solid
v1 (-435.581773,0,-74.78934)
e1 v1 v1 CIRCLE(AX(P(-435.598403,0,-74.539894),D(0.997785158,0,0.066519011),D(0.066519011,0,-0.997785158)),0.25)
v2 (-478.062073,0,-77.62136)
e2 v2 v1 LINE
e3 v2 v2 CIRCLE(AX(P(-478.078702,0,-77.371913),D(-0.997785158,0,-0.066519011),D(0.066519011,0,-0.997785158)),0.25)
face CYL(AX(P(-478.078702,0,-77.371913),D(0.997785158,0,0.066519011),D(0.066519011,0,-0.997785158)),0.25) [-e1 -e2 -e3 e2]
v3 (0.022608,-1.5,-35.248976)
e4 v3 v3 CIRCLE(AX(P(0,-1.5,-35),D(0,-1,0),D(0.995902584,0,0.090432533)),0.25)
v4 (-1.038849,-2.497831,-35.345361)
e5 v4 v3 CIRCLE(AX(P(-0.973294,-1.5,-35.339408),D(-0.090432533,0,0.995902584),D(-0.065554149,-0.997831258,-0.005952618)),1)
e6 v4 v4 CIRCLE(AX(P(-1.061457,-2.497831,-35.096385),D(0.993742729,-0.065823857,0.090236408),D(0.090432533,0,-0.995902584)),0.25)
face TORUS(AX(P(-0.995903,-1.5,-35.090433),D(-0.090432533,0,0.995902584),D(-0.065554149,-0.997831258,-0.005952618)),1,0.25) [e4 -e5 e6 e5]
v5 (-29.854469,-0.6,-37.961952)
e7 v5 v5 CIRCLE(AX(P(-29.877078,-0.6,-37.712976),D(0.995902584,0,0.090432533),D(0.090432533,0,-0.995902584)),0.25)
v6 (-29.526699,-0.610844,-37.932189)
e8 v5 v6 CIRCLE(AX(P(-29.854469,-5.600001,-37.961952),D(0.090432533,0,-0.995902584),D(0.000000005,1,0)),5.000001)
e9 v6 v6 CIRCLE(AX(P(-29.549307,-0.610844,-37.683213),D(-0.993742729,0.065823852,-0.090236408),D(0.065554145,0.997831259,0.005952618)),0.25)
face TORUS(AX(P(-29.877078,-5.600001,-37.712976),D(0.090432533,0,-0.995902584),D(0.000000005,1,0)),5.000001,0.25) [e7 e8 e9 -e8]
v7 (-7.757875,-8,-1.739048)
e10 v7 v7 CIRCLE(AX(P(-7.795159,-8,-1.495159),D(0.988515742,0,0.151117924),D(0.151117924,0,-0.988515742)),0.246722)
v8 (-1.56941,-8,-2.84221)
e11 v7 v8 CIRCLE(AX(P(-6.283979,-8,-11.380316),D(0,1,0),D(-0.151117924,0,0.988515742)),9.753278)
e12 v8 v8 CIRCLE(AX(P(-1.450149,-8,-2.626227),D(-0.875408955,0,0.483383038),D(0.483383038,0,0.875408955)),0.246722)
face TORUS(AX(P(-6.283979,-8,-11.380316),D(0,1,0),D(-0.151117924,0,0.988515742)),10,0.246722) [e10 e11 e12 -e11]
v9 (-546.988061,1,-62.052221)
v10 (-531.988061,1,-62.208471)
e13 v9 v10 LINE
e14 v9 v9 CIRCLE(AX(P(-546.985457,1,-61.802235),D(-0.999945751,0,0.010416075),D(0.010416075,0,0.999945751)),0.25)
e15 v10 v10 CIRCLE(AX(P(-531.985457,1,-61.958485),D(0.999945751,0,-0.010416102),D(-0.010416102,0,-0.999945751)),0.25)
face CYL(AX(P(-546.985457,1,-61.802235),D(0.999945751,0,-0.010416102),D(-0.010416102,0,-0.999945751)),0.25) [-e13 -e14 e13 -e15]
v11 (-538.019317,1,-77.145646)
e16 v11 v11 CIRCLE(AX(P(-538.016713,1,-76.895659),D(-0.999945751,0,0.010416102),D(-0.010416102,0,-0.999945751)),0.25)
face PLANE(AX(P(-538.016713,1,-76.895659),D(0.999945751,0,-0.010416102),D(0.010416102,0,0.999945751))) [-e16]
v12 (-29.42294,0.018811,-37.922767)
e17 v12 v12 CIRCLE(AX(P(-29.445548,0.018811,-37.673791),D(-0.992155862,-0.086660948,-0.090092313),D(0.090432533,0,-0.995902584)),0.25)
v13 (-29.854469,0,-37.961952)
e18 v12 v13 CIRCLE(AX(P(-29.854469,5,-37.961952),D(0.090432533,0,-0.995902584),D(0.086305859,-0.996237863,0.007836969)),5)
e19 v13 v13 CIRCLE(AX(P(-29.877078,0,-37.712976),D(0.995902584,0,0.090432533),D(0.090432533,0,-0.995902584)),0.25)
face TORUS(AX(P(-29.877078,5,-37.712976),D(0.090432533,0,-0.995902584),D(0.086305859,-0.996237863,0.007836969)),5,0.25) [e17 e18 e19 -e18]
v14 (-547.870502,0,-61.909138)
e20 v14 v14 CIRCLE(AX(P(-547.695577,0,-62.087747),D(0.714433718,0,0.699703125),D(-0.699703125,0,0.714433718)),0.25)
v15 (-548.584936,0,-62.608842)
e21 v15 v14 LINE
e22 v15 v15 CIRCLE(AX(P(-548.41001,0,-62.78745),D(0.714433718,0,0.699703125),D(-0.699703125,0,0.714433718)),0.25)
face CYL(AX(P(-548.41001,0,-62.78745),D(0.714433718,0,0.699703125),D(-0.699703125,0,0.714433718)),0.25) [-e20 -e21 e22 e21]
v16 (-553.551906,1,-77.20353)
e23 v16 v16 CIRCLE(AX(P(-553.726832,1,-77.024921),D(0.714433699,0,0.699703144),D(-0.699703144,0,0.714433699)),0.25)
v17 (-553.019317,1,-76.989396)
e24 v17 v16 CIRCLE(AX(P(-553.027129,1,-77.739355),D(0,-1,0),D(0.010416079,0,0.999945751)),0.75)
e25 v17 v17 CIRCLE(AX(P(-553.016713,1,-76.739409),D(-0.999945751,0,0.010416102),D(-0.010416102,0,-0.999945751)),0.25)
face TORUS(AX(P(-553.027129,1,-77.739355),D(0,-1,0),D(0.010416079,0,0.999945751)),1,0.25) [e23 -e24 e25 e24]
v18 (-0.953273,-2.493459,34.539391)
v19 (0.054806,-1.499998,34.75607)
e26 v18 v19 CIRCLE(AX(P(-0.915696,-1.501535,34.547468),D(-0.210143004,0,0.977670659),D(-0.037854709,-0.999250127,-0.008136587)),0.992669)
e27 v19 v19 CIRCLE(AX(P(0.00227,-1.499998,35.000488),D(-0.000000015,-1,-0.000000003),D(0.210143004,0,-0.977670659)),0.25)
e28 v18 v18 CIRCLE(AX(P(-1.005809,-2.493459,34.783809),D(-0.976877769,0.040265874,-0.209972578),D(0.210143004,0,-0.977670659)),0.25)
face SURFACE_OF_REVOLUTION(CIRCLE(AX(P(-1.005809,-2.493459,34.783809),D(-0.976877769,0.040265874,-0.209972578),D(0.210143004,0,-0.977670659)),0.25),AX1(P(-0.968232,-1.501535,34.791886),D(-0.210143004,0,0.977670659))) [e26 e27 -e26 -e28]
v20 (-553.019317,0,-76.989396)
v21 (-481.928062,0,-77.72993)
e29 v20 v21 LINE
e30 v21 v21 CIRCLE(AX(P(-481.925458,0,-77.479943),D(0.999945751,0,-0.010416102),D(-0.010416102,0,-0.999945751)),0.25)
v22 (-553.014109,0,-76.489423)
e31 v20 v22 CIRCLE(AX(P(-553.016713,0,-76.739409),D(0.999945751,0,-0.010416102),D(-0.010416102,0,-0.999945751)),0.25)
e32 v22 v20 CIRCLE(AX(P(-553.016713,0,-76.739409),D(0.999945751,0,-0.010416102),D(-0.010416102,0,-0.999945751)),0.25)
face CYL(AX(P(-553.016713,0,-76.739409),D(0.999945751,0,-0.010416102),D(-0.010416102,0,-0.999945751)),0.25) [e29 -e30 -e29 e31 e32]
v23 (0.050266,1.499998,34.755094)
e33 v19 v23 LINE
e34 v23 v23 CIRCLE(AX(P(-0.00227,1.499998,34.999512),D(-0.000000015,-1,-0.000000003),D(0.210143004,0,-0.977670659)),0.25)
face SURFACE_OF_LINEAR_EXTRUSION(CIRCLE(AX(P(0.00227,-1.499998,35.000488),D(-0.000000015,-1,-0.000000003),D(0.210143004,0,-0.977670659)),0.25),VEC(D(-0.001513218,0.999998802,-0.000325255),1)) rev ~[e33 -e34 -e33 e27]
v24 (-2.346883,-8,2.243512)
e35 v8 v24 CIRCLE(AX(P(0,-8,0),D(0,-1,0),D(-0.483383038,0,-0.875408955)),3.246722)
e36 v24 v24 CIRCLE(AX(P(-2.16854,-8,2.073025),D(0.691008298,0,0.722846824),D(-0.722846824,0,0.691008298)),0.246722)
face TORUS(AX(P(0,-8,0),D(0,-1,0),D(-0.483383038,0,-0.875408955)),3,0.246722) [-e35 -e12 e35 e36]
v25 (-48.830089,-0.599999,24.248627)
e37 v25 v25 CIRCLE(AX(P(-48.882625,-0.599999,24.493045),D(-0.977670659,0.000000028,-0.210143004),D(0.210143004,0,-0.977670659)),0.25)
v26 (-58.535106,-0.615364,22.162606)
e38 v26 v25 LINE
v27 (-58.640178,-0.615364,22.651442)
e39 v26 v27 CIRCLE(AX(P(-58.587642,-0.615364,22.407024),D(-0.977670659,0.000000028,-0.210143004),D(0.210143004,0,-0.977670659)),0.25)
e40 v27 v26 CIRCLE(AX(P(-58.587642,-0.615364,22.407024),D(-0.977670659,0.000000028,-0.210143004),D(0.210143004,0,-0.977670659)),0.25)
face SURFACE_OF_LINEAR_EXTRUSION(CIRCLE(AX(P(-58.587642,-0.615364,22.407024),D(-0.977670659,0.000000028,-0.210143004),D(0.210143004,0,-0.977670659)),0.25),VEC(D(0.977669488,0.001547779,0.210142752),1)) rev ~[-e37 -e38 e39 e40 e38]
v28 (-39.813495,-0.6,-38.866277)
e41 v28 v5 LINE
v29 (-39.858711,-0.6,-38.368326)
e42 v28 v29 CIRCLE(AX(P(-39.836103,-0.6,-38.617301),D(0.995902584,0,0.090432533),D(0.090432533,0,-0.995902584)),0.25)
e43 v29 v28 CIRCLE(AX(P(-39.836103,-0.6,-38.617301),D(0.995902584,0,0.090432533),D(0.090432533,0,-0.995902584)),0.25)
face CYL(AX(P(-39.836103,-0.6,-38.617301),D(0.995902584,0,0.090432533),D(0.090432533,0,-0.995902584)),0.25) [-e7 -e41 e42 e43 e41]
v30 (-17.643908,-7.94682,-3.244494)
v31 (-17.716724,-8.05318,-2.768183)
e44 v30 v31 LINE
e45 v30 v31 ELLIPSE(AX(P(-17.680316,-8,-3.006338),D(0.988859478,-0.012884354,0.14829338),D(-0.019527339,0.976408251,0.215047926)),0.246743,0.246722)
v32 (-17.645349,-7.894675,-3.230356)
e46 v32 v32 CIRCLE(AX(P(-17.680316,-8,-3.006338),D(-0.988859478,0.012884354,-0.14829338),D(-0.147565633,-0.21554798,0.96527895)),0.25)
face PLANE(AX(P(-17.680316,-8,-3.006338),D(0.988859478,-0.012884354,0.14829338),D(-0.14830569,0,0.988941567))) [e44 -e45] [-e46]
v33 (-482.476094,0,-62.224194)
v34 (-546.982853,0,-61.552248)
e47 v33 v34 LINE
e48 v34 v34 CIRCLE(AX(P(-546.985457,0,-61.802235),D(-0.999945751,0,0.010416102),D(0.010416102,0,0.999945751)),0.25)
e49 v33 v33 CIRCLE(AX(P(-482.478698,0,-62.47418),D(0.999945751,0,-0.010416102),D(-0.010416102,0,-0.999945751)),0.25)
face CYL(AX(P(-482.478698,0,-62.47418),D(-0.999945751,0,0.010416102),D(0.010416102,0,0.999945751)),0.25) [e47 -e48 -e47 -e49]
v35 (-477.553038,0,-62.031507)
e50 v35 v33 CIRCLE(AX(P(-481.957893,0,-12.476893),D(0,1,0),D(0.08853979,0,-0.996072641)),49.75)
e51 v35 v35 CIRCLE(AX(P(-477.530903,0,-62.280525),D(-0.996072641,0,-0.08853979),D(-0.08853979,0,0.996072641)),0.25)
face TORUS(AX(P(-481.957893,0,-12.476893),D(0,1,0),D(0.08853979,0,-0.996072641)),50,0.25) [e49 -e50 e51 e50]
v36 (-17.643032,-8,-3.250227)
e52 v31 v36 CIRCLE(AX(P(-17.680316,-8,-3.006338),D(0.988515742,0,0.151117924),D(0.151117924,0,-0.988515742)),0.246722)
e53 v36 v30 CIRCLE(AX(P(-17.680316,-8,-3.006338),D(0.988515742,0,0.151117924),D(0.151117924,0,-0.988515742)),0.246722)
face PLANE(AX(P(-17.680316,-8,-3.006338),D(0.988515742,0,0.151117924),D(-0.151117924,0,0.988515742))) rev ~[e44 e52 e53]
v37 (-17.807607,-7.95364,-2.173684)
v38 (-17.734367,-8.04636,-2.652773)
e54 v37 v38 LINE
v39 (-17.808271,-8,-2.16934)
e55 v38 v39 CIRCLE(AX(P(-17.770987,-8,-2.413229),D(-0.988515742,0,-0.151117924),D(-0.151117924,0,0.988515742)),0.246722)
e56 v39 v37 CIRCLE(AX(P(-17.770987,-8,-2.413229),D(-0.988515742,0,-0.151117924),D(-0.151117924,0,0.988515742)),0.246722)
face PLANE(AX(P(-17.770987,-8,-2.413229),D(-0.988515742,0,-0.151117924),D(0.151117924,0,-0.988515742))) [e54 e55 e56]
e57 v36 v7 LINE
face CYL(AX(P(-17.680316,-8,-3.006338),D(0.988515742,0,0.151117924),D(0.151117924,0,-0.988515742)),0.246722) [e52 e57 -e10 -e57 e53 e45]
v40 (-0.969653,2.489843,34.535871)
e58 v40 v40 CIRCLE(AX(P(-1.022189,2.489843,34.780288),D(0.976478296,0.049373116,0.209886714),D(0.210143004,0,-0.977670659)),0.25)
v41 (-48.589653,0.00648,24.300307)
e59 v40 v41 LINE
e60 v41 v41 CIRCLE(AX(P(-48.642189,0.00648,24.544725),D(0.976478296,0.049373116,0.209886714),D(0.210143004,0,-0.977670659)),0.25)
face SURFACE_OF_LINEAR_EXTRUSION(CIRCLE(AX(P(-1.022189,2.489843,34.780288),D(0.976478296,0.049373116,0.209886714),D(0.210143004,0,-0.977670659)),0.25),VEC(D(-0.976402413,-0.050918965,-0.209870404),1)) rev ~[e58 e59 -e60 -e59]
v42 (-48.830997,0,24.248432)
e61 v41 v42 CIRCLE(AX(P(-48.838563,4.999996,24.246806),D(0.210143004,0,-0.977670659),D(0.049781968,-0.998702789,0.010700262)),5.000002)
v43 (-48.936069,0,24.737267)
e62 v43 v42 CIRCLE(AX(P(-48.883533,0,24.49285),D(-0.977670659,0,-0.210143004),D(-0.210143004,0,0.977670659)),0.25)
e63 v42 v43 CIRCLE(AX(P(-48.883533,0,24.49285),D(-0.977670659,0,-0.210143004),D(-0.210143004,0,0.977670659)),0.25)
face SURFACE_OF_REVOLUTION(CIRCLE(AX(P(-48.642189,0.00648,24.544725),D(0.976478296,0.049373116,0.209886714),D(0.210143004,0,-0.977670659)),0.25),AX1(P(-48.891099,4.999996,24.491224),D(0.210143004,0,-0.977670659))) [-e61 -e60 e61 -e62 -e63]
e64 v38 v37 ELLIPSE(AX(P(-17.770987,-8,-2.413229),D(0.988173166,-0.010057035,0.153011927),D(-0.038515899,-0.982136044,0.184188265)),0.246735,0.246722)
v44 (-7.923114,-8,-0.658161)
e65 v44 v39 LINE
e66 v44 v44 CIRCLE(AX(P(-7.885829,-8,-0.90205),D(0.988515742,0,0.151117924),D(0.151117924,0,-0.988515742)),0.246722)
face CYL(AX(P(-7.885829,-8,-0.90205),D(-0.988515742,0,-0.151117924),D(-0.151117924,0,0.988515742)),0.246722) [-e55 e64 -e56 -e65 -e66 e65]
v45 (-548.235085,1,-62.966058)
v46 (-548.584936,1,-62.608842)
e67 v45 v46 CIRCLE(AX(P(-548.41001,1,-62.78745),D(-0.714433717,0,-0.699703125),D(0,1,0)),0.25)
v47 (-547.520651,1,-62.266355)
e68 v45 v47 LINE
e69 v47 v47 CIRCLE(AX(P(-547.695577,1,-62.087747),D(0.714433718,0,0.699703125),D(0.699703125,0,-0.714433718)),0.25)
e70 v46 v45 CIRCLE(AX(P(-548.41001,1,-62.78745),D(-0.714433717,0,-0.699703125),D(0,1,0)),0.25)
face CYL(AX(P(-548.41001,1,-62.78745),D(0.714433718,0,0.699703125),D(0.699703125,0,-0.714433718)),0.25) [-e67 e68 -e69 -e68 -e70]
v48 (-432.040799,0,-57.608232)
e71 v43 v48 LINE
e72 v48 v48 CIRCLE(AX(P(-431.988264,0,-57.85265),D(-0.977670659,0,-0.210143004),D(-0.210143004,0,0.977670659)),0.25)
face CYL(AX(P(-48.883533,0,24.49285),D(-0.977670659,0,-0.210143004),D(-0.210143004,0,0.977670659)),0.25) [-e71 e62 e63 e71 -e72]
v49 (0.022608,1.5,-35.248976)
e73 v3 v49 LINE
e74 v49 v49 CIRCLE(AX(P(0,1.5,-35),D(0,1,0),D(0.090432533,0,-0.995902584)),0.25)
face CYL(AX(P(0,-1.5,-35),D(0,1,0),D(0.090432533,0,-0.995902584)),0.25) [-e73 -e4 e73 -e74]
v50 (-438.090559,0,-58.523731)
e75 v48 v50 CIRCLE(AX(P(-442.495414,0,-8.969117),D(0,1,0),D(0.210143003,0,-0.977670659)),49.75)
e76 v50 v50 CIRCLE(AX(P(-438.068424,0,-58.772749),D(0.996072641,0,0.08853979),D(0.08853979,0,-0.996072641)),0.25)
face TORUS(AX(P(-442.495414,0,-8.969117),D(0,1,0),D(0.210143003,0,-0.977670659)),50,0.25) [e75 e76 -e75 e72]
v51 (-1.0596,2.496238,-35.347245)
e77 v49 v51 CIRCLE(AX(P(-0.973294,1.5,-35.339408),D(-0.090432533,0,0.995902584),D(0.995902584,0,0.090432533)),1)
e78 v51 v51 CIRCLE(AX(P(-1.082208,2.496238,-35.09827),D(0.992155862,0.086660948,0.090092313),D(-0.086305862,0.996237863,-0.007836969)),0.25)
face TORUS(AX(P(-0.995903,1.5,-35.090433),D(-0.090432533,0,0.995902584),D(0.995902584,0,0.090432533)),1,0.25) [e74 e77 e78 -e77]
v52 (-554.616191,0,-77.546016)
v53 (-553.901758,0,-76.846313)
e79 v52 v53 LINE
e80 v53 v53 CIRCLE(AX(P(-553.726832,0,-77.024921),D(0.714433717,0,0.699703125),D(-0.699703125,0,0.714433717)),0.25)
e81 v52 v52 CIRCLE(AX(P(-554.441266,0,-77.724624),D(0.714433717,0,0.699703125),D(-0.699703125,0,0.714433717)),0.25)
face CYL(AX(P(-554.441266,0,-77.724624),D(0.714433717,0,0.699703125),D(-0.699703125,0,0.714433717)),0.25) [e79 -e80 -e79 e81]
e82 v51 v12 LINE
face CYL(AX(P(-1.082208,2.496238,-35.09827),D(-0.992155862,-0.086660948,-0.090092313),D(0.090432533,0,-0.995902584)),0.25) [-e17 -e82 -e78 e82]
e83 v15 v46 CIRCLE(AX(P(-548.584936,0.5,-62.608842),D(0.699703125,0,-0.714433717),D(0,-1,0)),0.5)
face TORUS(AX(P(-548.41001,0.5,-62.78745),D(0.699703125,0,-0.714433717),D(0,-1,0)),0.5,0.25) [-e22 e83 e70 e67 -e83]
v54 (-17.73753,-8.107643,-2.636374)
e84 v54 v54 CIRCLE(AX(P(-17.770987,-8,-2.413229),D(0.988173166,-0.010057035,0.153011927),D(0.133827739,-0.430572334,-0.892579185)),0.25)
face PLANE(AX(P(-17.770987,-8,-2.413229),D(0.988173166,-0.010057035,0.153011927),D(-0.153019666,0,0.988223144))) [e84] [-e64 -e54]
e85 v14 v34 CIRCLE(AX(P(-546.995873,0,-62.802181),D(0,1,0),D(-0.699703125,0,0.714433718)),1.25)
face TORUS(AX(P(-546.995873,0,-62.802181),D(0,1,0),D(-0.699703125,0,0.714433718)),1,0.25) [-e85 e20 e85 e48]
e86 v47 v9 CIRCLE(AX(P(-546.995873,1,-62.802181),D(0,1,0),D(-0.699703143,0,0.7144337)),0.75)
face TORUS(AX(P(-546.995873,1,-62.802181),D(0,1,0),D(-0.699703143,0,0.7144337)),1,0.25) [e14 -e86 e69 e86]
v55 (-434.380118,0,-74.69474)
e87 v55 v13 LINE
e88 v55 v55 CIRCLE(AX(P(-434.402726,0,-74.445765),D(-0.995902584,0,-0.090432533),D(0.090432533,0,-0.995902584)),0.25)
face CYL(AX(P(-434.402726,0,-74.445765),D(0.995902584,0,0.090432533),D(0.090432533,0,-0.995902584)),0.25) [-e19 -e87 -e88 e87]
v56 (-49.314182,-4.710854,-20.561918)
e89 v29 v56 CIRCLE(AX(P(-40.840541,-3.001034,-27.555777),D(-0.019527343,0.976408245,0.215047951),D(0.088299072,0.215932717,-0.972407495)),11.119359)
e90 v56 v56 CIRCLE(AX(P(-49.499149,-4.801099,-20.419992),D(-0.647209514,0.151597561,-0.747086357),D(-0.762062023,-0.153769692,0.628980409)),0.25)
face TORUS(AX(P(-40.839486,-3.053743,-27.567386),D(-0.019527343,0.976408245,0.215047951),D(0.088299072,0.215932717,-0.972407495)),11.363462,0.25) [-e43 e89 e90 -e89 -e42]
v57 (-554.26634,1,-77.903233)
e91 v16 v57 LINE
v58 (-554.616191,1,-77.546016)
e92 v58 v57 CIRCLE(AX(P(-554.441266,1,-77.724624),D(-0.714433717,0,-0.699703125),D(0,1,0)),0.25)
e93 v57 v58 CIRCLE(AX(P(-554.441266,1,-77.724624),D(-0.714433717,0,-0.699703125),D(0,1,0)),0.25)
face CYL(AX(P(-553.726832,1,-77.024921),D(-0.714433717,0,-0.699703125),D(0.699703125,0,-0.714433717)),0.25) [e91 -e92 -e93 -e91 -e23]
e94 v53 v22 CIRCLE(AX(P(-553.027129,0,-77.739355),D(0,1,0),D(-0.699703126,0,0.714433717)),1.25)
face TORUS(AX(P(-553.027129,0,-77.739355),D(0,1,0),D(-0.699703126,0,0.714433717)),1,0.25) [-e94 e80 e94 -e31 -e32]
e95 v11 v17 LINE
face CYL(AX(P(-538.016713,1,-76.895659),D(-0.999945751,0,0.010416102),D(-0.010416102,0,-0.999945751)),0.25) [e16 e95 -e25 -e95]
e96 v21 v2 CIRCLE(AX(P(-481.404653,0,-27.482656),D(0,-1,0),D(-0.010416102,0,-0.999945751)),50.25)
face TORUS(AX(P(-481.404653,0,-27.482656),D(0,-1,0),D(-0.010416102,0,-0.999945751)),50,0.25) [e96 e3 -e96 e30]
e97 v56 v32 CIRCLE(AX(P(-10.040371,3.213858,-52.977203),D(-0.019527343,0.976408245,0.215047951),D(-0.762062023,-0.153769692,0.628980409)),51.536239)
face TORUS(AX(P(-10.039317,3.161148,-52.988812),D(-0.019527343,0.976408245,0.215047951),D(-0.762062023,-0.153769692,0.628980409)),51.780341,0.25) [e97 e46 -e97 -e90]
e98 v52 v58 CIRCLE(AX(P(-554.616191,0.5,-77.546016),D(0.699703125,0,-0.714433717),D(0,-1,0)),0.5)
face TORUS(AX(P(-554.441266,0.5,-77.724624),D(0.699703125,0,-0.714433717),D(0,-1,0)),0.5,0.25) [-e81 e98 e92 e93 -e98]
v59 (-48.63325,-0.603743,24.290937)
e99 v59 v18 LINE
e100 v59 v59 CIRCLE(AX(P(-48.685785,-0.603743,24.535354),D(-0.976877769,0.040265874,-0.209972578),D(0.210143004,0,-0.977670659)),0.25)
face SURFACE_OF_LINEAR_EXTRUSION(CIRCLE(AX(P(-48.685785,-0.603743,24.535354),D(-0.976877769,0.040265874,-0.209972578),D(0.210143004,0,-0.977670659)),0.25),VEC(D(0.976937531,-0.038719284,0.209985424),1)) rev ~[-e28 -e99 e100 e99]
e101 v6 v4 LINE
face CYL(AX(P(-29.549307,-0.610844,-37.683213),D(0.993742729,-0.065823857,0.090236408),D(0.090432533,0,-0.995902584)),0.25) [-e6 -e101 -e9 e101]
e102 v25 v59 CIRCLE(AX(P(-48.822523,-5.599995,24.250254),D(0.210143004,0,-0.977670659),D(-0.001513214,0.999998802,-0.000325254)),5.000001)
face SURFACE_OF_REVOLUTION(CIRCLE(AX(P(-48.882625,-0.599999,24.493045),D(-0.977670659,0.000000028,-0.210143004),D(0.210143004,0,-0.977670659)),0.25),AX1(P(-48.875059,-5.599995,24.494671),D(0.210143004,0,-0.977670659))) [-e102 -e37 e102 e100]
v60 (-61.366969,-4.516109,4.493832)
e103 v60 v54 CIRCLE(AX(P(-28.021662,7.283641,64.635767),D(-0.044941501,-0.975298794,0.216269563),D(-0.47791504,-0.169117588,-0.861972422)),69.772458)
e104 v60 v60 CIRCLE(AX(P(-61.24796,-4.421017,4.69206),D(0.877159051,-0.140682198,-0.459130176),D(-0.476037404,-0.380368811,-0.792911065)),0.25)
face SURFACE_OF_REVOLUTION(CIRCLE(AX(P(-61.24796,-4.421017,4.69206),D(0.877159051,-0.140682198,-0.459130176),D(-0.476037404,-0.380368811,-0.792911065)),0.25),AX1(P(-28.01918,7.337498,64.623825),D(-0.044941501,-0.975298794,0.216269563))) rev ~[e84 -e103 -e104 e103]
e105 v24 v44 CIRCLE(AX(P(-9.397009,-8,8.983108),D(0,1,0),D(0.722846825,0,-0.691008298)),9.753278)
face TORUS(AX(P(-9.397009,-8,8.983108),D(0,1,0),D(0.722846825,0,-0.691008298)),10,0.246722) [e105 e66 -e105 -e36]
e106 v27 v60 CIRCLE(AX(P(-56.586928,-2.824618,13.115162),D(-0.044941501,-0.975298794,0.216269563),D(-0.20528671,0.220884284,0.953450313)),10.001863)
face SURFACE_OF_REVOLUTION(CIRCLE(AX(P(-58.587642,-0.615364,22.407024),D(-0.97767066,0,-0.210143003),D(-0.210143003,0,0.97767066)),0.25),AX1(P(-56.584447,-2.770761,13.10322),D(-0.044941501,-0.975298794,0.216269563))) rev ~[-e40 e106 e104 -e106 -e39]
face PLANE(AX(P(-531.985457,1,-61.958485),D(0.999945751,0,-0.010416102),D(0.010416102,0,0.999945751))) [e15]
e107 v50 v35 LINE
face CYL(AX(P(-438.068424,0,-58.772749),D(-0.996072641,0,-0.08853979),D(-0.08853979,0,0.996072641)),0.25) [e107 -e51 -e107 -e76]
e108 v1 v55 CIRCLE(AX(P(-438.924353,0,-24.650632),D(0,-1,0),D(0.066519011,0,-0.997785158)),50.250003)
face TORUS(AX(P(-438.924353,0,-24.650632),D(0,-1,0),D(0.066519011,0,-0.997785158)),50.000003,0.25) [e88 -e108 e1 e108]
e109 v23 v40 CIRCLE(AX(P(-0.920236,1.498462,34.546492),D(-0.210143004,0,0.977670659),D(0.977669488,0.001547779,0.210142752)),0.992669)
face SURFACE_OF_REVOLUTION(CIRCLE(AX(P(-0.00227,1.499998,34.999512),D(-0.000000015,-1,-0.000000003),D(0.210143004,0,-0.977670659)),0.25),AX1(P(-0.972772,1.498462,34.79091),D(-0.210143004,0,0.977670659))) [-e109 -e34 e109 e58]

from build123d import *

# Parameters (mm, degrees)
SKETCH10_R = 0.25
SKETCH13_R = 0.25
SKETCH14_R = 0.25
SKETCH11_R = 0.25
SKETCH15_R = 0.25
SKETCH16_R = 0.25
SKETCH12_R = 0.246722014
SKETCH25_R = 0.25
SKETCH26_R = 0.25
SKETCH27_R = 0.25
SKETCH28_R = 0.25
SKETCH29_R = 0.25
SKETCH30_R = 0.25


with BuildPart() as part:
    # Sweep1: sweep along a path in Sketch2
    with BuildLine(Plane(origin=(0, 0, 0), x_dir=(1, 0, 0), z_dir=(0, 1, 0))) as sweep1_path:
        Line((-553.016712609, 76.739409244), (-481.925457981, 77.479943146))
        ThreePointArc((-481.925457981, 77.479943146), (-480.001040475, 77.462950438), (-478.078702376, 77.371913492))
        Line((-478.078702376, 77.371913492), (-435.598402593, 74.539893506))
        ThreePointArc((-435.598402593, 74.539893506), (-435.00028227, 74.496414451), (-434.402726445, 74.445764815))
        Line((-434.402726445, 74.445764815), (-29.877077521, 37.712976005))
    # Sketch10 → Sweep1 (sweep)
    with BuildSketch(Plane(origin=(-553.016712609, 0, -76.739409244), x_dir=(-0.010416102, 0, -0.999945751), z_dir=(0.999945751, 0, -0.010416102))):
        Circle(SKETCH10_R)
    sweep(path=sweep1_path.line)

    # Sweep2: sweep along a path in Sketch5
    with BuildLine(Plane(origin=(3.152169783, 0, -34.713768491), x_dir=(-0.995902584, 0, -0.090432533), z_dir=(0.090432533, 0, -0.995902584))) as sweep2_path:
        Line((43.165138672, -0.6), (33.165138672, -0.6))
        ThreePointArc((33.165138672, -0.6), (33.000489736, -0.602711663), (32.836019389, -0.610843709))
        Line((32.836019389, -0.610843709), (4.230962529, -2.497831258))
        ThreePointArc((4.230962529, -2.497831258), (3.481700254, -2.23000817), (3.165138672, -1.5))
        Line((3.165138672, -1.5), (3.165138672, 1.5))
        ThreePointArc((3.165138672, 1.5), (3.489365392, 2.23710954), (4.25179962, 2.496237863))
        Line((4.25179962, 2.496237863), (32.731833935, 0.018810684))
        ThreePointArc((32.731833935, 0.018810684), (32.948282247, 0.004704885), (33.165138672, 0))
    # Sketch13 → Sweep2 (sweep)
    with BuildSketch(Plane(origin=(-33.029247304, 0, -2.999207514), x_dir=(0.090432533, 0, -0.995902584), z_dir=(0.995902584, 0, 0.090432533))):
        with Locations((34.856590441, 0)):
            Circle(SKETCH13_R)
    sweep(path=sweep2_path.line)

    # Sweep3: sweep along a path in Sketch8
    with BuildLine(Plane(origin=(0.158416022, -7.921134589, -1.744581505), x_dir=(0.999809183, 0.018956258, 0.00471788), z_dir=(0.019527343, -0.976408245, -0.215047951))) as sweep3_path:
        ThreePointArc((-40.022067478, -37.563175786), (-51.114443307, -31.46117381), (-49.6770536, -18.883052309))
        ThreePointArc((-49.6770536, -18.883052309), (-35.365036785, -7.153824973), (-17.842776045, -1.205801955))
    # Sketch14 → Sweep3 (sweep)
    with BuildSketch(Plane(origin=(-42.988273144, 0, -3.903532849), x_dir=(-0.090432533, 0, 0.995902584), z_dir=(-0.995902584, 0, -0.090432533))):
        with Locations((-34.856590441, -0.6)):
            Circle(SKETCH14_R)
    sweep(path=sweep3_path.line)



with BuildPart() as body_2:
    # Sweep4: sweep along a path in Sketch3
    with BuildLine(Plane(origin=(0, 0, 0), x_dir=(1, 0, 0), z_dir=(0, 1, 0))) as sweep4_path:
        Line((-48.883532963, -24.492849811), (-431.988263522, 57.852649746))
        ThreePointArc((-431.988263522, 57.852649746), (-435.014185353, 58.406260938), (-438.068424196, 58.772748817))
        Line((-438.068424196, 58.772748817), (-477.530903099, 62.28052472))
        ThreePointArc((-477.530903099, 62.28052472), (-480.002401671, 62.438638603), (-482.478697692, 62.474180232))
        Line((-482.478697692, 62.474180232), (-546.985457353, 61.802234819))
    # Sketch11 → Sweep4 (sweep)
    with BuildSketch(Plane(origin=(-546.985457353, 0, -61.802234819), x_dir=(0.010416102, 0, 0.999945751), z_dir=(-0.999945751, 0, 0.010416102))):
        Circle(SKETCH11_R)
    sweep(path=sweep4_path.line)

    # Sweep5: sweep along a path in Sketch6
    with BuildLine(Plane(origin=(-7.190772716, 0, 33.454397129), x_dir=(-0.977669488, -0.001547779, -0.210142752), z_dir=(0.210143004, 0, -0.977670659))) as sweep5_path:
        Line((52.571628789, -0.533994989), (42.644943787, -0.533994989))
        ThreePointArc((42.644943787, -0.533994989), (42.54425873, -0.53500884), (42.443614505, -0.538049981))
        Line((42.443614505, -0.538049981), (-6.322357175, -2.503247367))
        ThreePointArc((-6.322357175, -2.503247367), (-7.049973497, -2.227298843), (-7.354996322, -1.51138392))
        Line((-7.354996322, -1.51138392), (-7.354996322, 1.48861608))
        ThreePointArc((-7.354996322, 1.48861608), (-7.046703056, 2.207658005), (-6.313316668, 2.480073925))
        Line((-6.313316668, 2.480073925), (42.398078122, 0.072102995))
        ThreePointArc((42.398078122, 0.072102995), (42.521473303, 0.06752974), (42.644943787, 0.066005011))
    # Sketch15 → Sweep5 (sweep)
    with BuildSketch(Plane(origin=(-41.692760247, 0, -8.961547317), x_dir=(0.210143004, 0, -0.977670659), z_dir=(0.977670659, 0, 0.210143004))):
        with Locations((-34.218473074, 0)):
            Circle(SKETCH15_R)
    sweep(path=sweep5_path.line)

    # Sweep6: sweep along a path in Sketch9
    with BuildLine(Plane(origin=(-0.363088556, -7.879572815, 1.747271479), x_dir=(-0.998974794, 0.042695608, -0.015048125), z_dir=(0.044941501, 0.975298794, -0.216269563))) as sweep6_path:
        ThreePointArc((58.164120643, 22.059642217), (65.857403576, 13.97059894), (60.925803163, 3.955683025))
        ThreePointArc((60.925803163, 3.955683025), (39.83508155, -3.565434669), (17.447517685, -3.992908311))
    # Sketch16 → Sweep6 (sweep)
    with BuildSketch(Plane(origin=(-51.39686936, 0, -11.047373069), x_dir=(-0.210143004, 0, 0.977670659), z_dir=(-0.977670659, 0, -0.210143004))):
        with Locations((34.218473074, -0.615363592)):
            Circle(SKETCH16_R)
    sweep(path=sweep6_path.line)


with BuildPart() as part_1:
    add(part.part)

    add(body_2.part)  # Sweep7 merges body 2
    # Sweep7: sweep along a path in Sketch7
    with BuildLine(Plane(origin=(0, -8, 0), x_dir=(-1, 0, 0), z_dir=(0, 1, 0))) as sweep7_path:
        Line((17.680316152, -3.006338232), (7.795158727, -1.495158994))
        ThreePointArc((7.795158727, -1.495158994), (4.529034681, -1.53551227), (1.450149113, -2.626226866))
        ThreePointArc((1.450149113, -2.626226866), (-2.965547227, 0.453353772), (2.168540474, 2.073024895))
        ThreePointArc((2.168540474, 2.073024895), (4.78093609, 0.112263865), (7.885829482, -0.902049548))
        Line((7.885829482, -0.902049548), (17.770986906, -2.413228787))
    # Sketch12 → Sweep7 (sweep)
    with BuildSketch(Plane(origin=(-17.770986906, -8, -2.413228787), x_dir=(-0.151117924, 0, 0.988515742), z_dir=(-0.988515742, 0, -0.151117924))):
        Circle(SKETCH12_R)
    sweep(path=sweep7_path.line)

    # Sweep8: sweep along a path in Sketch17
    with BuildLine(Plane(origin=(0, 0, 0), x_dir=(1, 0, 0), z_dir=(0, 1, 0))) as sweep8_path:
        Line((-554.441265553, 77.724624402), (-553.726831836, 77.024921277))
        ThreePointArc((-553.726831836, 77.024921277), (-553.40016816, 76.811539512), (-553.016712609, 76.739409244))
    # Sketch25 → Sweep8 (sweep)
    with BuildSketch(Plane(origin=(-552.157430847, 0, 5.751639905), x_dir=(0.010416102, 0, 0.999945751), z_dir=(-0.999945751, 0, 0.010416102))):
        with Locations((-82.495524453, 0)):
            Circle(SKETCH25_R)
    sweep(path=sweep8_path.line)

    # Sweep9: sweep along a path in Sketch21
    with BuildLine(Plane(origin=(-232.591950079, 0, 237.488622712), x_dir=(-0.714433717, 0, -0.699703125), z_dir=(0.699703125, 0, -0.714433717))) as sweep9_path:
        ThreePointArc((450.495697014, 0), (450.995697014, 0.5), (450.495697014, 1))
    # Sketch26 → Sweep9 (sweep)
    with BuildSketch(Plane(origin=(-321.849315475, 0, -315.213247114), x_dir=(-0.699703125, 0, 0.714433717), z_dir=(-0.714433717, 0, -0.699703125))):
        with Locations((332.415193935, 0)):
            Circle(SKETCH26_R)
    sweep(path=sweep9_path.line)

    # Sweep10: sweep along a path in Sketch23
    with BuildLine(Plane(origin=(0, 1, 0), x_dir=(-1, 0, 0), z_dir=(0, 1, 0))) as sweep10_path:
        Line((538.016712609, -76.895659244), (553.016712609, -76.739409244))
        ThreePointArc((553.016712609, -76.739409244), (553.40016816, -76.811539512), (553.726831836, -77.024921277))
        Line((553.726831836, -77.024921277), (554.441265553, -77.724624402))
    # Sketch27 → Sweep10 (sweep)
    with BuildSketch(Plane(origin=(-321.849315475, 0, -315.213247114), x_dir=(0.699703125, 0, -0.714433717), z_dir=(0.714433717, 0, 0.699703125))):
        with Locations((-332.415193935, 1)):
            Circle(SKETCH27_R)
    sweep(path=sweep10_path.line)

    # Sweep11: sweep along a path in Sketch18
    with BuildLine(Plane(origin=(0, 0, 0), x_dir=(1, 0, 0), z_dir=(0, 1, 0))) as sweep11_path:
        Line((-548.410010298, 62.787449978), (-547.69557658, 62.087746853))
        ThreePointArc((-547.69557658, 62.087746853), (-547.368912904, 61.874365088), (-546.985457353, 61.802234819))
    # Sketch28 → Sweep11 (sweep)
    with BuildSketch(Plane(origin=(-546.282408639, 0, 5.690441757), x_dir=(0.010416102, 0, 0.999945751), z_dir=(-0.999945751, 0, 0.010416102))):
        with Locations((-67.496338189, 0)):
            Circle(SKETCH28_R)
    sweep(path=sweep11_path.line)

    # Sweep12: sweep along a path in Sketch22
    with BuildLine(Plane(origin=(-237.106107811, 0, 242.097815344), x_dir=(-0.714433717, 0, -0.699703125), z_dir=(0.699703125, 0, -0.714433717))) as sweep12_path:
        ThreePointArc((435.735177274, 0), (436.235177274, 0.5), (435.735177274, 1))
    # Sketch29 → Sweep12 (sweep)
    with BuildSketch(Plane(origin=(-311.303902487, 0, -304.885265322), x_dir=(-0.699703125, 0, 0.714433717), z_dir=(-0.714433717, 0, -0.699703125))):
        with Locations((338.866726835, 0)):
            Circle(SKETCH29_R)
    sweep(path=sweep12_path.line)

    # Sweep13: sweep along a path in Sketch24
    with BuildLine(Plane(origin=(0, 1, 0), x_dir=(-1, 0, 0), z_dir=(0, 1, 0))) as sweep13_path:
        Line((548.410010298, -62.787449978), (547.69557658, -62.087746853))
        ThreePointArc((547.69557658, -62.087746853), (547.368912904, -61.874365088), (546.985457353, -61.802234819))
        Line((546.985457353, -61.802234819), (531.985457353, -61.958484819))
    # Sketch30 → Sweep13 (sweep)
    with BuildSketch(Plane(origin=(-311.303902487, 0, -304.885265322), x_dir=(0.699703125, 0, -0.714433717), z_dir=(0.714433717, 0, 0.699703125))):
        with Locations((-338.866726835, 1)):
            Circle(SKETCH30_R)
    sweep(path=sweep13_path.line)


solid = part_1.part
